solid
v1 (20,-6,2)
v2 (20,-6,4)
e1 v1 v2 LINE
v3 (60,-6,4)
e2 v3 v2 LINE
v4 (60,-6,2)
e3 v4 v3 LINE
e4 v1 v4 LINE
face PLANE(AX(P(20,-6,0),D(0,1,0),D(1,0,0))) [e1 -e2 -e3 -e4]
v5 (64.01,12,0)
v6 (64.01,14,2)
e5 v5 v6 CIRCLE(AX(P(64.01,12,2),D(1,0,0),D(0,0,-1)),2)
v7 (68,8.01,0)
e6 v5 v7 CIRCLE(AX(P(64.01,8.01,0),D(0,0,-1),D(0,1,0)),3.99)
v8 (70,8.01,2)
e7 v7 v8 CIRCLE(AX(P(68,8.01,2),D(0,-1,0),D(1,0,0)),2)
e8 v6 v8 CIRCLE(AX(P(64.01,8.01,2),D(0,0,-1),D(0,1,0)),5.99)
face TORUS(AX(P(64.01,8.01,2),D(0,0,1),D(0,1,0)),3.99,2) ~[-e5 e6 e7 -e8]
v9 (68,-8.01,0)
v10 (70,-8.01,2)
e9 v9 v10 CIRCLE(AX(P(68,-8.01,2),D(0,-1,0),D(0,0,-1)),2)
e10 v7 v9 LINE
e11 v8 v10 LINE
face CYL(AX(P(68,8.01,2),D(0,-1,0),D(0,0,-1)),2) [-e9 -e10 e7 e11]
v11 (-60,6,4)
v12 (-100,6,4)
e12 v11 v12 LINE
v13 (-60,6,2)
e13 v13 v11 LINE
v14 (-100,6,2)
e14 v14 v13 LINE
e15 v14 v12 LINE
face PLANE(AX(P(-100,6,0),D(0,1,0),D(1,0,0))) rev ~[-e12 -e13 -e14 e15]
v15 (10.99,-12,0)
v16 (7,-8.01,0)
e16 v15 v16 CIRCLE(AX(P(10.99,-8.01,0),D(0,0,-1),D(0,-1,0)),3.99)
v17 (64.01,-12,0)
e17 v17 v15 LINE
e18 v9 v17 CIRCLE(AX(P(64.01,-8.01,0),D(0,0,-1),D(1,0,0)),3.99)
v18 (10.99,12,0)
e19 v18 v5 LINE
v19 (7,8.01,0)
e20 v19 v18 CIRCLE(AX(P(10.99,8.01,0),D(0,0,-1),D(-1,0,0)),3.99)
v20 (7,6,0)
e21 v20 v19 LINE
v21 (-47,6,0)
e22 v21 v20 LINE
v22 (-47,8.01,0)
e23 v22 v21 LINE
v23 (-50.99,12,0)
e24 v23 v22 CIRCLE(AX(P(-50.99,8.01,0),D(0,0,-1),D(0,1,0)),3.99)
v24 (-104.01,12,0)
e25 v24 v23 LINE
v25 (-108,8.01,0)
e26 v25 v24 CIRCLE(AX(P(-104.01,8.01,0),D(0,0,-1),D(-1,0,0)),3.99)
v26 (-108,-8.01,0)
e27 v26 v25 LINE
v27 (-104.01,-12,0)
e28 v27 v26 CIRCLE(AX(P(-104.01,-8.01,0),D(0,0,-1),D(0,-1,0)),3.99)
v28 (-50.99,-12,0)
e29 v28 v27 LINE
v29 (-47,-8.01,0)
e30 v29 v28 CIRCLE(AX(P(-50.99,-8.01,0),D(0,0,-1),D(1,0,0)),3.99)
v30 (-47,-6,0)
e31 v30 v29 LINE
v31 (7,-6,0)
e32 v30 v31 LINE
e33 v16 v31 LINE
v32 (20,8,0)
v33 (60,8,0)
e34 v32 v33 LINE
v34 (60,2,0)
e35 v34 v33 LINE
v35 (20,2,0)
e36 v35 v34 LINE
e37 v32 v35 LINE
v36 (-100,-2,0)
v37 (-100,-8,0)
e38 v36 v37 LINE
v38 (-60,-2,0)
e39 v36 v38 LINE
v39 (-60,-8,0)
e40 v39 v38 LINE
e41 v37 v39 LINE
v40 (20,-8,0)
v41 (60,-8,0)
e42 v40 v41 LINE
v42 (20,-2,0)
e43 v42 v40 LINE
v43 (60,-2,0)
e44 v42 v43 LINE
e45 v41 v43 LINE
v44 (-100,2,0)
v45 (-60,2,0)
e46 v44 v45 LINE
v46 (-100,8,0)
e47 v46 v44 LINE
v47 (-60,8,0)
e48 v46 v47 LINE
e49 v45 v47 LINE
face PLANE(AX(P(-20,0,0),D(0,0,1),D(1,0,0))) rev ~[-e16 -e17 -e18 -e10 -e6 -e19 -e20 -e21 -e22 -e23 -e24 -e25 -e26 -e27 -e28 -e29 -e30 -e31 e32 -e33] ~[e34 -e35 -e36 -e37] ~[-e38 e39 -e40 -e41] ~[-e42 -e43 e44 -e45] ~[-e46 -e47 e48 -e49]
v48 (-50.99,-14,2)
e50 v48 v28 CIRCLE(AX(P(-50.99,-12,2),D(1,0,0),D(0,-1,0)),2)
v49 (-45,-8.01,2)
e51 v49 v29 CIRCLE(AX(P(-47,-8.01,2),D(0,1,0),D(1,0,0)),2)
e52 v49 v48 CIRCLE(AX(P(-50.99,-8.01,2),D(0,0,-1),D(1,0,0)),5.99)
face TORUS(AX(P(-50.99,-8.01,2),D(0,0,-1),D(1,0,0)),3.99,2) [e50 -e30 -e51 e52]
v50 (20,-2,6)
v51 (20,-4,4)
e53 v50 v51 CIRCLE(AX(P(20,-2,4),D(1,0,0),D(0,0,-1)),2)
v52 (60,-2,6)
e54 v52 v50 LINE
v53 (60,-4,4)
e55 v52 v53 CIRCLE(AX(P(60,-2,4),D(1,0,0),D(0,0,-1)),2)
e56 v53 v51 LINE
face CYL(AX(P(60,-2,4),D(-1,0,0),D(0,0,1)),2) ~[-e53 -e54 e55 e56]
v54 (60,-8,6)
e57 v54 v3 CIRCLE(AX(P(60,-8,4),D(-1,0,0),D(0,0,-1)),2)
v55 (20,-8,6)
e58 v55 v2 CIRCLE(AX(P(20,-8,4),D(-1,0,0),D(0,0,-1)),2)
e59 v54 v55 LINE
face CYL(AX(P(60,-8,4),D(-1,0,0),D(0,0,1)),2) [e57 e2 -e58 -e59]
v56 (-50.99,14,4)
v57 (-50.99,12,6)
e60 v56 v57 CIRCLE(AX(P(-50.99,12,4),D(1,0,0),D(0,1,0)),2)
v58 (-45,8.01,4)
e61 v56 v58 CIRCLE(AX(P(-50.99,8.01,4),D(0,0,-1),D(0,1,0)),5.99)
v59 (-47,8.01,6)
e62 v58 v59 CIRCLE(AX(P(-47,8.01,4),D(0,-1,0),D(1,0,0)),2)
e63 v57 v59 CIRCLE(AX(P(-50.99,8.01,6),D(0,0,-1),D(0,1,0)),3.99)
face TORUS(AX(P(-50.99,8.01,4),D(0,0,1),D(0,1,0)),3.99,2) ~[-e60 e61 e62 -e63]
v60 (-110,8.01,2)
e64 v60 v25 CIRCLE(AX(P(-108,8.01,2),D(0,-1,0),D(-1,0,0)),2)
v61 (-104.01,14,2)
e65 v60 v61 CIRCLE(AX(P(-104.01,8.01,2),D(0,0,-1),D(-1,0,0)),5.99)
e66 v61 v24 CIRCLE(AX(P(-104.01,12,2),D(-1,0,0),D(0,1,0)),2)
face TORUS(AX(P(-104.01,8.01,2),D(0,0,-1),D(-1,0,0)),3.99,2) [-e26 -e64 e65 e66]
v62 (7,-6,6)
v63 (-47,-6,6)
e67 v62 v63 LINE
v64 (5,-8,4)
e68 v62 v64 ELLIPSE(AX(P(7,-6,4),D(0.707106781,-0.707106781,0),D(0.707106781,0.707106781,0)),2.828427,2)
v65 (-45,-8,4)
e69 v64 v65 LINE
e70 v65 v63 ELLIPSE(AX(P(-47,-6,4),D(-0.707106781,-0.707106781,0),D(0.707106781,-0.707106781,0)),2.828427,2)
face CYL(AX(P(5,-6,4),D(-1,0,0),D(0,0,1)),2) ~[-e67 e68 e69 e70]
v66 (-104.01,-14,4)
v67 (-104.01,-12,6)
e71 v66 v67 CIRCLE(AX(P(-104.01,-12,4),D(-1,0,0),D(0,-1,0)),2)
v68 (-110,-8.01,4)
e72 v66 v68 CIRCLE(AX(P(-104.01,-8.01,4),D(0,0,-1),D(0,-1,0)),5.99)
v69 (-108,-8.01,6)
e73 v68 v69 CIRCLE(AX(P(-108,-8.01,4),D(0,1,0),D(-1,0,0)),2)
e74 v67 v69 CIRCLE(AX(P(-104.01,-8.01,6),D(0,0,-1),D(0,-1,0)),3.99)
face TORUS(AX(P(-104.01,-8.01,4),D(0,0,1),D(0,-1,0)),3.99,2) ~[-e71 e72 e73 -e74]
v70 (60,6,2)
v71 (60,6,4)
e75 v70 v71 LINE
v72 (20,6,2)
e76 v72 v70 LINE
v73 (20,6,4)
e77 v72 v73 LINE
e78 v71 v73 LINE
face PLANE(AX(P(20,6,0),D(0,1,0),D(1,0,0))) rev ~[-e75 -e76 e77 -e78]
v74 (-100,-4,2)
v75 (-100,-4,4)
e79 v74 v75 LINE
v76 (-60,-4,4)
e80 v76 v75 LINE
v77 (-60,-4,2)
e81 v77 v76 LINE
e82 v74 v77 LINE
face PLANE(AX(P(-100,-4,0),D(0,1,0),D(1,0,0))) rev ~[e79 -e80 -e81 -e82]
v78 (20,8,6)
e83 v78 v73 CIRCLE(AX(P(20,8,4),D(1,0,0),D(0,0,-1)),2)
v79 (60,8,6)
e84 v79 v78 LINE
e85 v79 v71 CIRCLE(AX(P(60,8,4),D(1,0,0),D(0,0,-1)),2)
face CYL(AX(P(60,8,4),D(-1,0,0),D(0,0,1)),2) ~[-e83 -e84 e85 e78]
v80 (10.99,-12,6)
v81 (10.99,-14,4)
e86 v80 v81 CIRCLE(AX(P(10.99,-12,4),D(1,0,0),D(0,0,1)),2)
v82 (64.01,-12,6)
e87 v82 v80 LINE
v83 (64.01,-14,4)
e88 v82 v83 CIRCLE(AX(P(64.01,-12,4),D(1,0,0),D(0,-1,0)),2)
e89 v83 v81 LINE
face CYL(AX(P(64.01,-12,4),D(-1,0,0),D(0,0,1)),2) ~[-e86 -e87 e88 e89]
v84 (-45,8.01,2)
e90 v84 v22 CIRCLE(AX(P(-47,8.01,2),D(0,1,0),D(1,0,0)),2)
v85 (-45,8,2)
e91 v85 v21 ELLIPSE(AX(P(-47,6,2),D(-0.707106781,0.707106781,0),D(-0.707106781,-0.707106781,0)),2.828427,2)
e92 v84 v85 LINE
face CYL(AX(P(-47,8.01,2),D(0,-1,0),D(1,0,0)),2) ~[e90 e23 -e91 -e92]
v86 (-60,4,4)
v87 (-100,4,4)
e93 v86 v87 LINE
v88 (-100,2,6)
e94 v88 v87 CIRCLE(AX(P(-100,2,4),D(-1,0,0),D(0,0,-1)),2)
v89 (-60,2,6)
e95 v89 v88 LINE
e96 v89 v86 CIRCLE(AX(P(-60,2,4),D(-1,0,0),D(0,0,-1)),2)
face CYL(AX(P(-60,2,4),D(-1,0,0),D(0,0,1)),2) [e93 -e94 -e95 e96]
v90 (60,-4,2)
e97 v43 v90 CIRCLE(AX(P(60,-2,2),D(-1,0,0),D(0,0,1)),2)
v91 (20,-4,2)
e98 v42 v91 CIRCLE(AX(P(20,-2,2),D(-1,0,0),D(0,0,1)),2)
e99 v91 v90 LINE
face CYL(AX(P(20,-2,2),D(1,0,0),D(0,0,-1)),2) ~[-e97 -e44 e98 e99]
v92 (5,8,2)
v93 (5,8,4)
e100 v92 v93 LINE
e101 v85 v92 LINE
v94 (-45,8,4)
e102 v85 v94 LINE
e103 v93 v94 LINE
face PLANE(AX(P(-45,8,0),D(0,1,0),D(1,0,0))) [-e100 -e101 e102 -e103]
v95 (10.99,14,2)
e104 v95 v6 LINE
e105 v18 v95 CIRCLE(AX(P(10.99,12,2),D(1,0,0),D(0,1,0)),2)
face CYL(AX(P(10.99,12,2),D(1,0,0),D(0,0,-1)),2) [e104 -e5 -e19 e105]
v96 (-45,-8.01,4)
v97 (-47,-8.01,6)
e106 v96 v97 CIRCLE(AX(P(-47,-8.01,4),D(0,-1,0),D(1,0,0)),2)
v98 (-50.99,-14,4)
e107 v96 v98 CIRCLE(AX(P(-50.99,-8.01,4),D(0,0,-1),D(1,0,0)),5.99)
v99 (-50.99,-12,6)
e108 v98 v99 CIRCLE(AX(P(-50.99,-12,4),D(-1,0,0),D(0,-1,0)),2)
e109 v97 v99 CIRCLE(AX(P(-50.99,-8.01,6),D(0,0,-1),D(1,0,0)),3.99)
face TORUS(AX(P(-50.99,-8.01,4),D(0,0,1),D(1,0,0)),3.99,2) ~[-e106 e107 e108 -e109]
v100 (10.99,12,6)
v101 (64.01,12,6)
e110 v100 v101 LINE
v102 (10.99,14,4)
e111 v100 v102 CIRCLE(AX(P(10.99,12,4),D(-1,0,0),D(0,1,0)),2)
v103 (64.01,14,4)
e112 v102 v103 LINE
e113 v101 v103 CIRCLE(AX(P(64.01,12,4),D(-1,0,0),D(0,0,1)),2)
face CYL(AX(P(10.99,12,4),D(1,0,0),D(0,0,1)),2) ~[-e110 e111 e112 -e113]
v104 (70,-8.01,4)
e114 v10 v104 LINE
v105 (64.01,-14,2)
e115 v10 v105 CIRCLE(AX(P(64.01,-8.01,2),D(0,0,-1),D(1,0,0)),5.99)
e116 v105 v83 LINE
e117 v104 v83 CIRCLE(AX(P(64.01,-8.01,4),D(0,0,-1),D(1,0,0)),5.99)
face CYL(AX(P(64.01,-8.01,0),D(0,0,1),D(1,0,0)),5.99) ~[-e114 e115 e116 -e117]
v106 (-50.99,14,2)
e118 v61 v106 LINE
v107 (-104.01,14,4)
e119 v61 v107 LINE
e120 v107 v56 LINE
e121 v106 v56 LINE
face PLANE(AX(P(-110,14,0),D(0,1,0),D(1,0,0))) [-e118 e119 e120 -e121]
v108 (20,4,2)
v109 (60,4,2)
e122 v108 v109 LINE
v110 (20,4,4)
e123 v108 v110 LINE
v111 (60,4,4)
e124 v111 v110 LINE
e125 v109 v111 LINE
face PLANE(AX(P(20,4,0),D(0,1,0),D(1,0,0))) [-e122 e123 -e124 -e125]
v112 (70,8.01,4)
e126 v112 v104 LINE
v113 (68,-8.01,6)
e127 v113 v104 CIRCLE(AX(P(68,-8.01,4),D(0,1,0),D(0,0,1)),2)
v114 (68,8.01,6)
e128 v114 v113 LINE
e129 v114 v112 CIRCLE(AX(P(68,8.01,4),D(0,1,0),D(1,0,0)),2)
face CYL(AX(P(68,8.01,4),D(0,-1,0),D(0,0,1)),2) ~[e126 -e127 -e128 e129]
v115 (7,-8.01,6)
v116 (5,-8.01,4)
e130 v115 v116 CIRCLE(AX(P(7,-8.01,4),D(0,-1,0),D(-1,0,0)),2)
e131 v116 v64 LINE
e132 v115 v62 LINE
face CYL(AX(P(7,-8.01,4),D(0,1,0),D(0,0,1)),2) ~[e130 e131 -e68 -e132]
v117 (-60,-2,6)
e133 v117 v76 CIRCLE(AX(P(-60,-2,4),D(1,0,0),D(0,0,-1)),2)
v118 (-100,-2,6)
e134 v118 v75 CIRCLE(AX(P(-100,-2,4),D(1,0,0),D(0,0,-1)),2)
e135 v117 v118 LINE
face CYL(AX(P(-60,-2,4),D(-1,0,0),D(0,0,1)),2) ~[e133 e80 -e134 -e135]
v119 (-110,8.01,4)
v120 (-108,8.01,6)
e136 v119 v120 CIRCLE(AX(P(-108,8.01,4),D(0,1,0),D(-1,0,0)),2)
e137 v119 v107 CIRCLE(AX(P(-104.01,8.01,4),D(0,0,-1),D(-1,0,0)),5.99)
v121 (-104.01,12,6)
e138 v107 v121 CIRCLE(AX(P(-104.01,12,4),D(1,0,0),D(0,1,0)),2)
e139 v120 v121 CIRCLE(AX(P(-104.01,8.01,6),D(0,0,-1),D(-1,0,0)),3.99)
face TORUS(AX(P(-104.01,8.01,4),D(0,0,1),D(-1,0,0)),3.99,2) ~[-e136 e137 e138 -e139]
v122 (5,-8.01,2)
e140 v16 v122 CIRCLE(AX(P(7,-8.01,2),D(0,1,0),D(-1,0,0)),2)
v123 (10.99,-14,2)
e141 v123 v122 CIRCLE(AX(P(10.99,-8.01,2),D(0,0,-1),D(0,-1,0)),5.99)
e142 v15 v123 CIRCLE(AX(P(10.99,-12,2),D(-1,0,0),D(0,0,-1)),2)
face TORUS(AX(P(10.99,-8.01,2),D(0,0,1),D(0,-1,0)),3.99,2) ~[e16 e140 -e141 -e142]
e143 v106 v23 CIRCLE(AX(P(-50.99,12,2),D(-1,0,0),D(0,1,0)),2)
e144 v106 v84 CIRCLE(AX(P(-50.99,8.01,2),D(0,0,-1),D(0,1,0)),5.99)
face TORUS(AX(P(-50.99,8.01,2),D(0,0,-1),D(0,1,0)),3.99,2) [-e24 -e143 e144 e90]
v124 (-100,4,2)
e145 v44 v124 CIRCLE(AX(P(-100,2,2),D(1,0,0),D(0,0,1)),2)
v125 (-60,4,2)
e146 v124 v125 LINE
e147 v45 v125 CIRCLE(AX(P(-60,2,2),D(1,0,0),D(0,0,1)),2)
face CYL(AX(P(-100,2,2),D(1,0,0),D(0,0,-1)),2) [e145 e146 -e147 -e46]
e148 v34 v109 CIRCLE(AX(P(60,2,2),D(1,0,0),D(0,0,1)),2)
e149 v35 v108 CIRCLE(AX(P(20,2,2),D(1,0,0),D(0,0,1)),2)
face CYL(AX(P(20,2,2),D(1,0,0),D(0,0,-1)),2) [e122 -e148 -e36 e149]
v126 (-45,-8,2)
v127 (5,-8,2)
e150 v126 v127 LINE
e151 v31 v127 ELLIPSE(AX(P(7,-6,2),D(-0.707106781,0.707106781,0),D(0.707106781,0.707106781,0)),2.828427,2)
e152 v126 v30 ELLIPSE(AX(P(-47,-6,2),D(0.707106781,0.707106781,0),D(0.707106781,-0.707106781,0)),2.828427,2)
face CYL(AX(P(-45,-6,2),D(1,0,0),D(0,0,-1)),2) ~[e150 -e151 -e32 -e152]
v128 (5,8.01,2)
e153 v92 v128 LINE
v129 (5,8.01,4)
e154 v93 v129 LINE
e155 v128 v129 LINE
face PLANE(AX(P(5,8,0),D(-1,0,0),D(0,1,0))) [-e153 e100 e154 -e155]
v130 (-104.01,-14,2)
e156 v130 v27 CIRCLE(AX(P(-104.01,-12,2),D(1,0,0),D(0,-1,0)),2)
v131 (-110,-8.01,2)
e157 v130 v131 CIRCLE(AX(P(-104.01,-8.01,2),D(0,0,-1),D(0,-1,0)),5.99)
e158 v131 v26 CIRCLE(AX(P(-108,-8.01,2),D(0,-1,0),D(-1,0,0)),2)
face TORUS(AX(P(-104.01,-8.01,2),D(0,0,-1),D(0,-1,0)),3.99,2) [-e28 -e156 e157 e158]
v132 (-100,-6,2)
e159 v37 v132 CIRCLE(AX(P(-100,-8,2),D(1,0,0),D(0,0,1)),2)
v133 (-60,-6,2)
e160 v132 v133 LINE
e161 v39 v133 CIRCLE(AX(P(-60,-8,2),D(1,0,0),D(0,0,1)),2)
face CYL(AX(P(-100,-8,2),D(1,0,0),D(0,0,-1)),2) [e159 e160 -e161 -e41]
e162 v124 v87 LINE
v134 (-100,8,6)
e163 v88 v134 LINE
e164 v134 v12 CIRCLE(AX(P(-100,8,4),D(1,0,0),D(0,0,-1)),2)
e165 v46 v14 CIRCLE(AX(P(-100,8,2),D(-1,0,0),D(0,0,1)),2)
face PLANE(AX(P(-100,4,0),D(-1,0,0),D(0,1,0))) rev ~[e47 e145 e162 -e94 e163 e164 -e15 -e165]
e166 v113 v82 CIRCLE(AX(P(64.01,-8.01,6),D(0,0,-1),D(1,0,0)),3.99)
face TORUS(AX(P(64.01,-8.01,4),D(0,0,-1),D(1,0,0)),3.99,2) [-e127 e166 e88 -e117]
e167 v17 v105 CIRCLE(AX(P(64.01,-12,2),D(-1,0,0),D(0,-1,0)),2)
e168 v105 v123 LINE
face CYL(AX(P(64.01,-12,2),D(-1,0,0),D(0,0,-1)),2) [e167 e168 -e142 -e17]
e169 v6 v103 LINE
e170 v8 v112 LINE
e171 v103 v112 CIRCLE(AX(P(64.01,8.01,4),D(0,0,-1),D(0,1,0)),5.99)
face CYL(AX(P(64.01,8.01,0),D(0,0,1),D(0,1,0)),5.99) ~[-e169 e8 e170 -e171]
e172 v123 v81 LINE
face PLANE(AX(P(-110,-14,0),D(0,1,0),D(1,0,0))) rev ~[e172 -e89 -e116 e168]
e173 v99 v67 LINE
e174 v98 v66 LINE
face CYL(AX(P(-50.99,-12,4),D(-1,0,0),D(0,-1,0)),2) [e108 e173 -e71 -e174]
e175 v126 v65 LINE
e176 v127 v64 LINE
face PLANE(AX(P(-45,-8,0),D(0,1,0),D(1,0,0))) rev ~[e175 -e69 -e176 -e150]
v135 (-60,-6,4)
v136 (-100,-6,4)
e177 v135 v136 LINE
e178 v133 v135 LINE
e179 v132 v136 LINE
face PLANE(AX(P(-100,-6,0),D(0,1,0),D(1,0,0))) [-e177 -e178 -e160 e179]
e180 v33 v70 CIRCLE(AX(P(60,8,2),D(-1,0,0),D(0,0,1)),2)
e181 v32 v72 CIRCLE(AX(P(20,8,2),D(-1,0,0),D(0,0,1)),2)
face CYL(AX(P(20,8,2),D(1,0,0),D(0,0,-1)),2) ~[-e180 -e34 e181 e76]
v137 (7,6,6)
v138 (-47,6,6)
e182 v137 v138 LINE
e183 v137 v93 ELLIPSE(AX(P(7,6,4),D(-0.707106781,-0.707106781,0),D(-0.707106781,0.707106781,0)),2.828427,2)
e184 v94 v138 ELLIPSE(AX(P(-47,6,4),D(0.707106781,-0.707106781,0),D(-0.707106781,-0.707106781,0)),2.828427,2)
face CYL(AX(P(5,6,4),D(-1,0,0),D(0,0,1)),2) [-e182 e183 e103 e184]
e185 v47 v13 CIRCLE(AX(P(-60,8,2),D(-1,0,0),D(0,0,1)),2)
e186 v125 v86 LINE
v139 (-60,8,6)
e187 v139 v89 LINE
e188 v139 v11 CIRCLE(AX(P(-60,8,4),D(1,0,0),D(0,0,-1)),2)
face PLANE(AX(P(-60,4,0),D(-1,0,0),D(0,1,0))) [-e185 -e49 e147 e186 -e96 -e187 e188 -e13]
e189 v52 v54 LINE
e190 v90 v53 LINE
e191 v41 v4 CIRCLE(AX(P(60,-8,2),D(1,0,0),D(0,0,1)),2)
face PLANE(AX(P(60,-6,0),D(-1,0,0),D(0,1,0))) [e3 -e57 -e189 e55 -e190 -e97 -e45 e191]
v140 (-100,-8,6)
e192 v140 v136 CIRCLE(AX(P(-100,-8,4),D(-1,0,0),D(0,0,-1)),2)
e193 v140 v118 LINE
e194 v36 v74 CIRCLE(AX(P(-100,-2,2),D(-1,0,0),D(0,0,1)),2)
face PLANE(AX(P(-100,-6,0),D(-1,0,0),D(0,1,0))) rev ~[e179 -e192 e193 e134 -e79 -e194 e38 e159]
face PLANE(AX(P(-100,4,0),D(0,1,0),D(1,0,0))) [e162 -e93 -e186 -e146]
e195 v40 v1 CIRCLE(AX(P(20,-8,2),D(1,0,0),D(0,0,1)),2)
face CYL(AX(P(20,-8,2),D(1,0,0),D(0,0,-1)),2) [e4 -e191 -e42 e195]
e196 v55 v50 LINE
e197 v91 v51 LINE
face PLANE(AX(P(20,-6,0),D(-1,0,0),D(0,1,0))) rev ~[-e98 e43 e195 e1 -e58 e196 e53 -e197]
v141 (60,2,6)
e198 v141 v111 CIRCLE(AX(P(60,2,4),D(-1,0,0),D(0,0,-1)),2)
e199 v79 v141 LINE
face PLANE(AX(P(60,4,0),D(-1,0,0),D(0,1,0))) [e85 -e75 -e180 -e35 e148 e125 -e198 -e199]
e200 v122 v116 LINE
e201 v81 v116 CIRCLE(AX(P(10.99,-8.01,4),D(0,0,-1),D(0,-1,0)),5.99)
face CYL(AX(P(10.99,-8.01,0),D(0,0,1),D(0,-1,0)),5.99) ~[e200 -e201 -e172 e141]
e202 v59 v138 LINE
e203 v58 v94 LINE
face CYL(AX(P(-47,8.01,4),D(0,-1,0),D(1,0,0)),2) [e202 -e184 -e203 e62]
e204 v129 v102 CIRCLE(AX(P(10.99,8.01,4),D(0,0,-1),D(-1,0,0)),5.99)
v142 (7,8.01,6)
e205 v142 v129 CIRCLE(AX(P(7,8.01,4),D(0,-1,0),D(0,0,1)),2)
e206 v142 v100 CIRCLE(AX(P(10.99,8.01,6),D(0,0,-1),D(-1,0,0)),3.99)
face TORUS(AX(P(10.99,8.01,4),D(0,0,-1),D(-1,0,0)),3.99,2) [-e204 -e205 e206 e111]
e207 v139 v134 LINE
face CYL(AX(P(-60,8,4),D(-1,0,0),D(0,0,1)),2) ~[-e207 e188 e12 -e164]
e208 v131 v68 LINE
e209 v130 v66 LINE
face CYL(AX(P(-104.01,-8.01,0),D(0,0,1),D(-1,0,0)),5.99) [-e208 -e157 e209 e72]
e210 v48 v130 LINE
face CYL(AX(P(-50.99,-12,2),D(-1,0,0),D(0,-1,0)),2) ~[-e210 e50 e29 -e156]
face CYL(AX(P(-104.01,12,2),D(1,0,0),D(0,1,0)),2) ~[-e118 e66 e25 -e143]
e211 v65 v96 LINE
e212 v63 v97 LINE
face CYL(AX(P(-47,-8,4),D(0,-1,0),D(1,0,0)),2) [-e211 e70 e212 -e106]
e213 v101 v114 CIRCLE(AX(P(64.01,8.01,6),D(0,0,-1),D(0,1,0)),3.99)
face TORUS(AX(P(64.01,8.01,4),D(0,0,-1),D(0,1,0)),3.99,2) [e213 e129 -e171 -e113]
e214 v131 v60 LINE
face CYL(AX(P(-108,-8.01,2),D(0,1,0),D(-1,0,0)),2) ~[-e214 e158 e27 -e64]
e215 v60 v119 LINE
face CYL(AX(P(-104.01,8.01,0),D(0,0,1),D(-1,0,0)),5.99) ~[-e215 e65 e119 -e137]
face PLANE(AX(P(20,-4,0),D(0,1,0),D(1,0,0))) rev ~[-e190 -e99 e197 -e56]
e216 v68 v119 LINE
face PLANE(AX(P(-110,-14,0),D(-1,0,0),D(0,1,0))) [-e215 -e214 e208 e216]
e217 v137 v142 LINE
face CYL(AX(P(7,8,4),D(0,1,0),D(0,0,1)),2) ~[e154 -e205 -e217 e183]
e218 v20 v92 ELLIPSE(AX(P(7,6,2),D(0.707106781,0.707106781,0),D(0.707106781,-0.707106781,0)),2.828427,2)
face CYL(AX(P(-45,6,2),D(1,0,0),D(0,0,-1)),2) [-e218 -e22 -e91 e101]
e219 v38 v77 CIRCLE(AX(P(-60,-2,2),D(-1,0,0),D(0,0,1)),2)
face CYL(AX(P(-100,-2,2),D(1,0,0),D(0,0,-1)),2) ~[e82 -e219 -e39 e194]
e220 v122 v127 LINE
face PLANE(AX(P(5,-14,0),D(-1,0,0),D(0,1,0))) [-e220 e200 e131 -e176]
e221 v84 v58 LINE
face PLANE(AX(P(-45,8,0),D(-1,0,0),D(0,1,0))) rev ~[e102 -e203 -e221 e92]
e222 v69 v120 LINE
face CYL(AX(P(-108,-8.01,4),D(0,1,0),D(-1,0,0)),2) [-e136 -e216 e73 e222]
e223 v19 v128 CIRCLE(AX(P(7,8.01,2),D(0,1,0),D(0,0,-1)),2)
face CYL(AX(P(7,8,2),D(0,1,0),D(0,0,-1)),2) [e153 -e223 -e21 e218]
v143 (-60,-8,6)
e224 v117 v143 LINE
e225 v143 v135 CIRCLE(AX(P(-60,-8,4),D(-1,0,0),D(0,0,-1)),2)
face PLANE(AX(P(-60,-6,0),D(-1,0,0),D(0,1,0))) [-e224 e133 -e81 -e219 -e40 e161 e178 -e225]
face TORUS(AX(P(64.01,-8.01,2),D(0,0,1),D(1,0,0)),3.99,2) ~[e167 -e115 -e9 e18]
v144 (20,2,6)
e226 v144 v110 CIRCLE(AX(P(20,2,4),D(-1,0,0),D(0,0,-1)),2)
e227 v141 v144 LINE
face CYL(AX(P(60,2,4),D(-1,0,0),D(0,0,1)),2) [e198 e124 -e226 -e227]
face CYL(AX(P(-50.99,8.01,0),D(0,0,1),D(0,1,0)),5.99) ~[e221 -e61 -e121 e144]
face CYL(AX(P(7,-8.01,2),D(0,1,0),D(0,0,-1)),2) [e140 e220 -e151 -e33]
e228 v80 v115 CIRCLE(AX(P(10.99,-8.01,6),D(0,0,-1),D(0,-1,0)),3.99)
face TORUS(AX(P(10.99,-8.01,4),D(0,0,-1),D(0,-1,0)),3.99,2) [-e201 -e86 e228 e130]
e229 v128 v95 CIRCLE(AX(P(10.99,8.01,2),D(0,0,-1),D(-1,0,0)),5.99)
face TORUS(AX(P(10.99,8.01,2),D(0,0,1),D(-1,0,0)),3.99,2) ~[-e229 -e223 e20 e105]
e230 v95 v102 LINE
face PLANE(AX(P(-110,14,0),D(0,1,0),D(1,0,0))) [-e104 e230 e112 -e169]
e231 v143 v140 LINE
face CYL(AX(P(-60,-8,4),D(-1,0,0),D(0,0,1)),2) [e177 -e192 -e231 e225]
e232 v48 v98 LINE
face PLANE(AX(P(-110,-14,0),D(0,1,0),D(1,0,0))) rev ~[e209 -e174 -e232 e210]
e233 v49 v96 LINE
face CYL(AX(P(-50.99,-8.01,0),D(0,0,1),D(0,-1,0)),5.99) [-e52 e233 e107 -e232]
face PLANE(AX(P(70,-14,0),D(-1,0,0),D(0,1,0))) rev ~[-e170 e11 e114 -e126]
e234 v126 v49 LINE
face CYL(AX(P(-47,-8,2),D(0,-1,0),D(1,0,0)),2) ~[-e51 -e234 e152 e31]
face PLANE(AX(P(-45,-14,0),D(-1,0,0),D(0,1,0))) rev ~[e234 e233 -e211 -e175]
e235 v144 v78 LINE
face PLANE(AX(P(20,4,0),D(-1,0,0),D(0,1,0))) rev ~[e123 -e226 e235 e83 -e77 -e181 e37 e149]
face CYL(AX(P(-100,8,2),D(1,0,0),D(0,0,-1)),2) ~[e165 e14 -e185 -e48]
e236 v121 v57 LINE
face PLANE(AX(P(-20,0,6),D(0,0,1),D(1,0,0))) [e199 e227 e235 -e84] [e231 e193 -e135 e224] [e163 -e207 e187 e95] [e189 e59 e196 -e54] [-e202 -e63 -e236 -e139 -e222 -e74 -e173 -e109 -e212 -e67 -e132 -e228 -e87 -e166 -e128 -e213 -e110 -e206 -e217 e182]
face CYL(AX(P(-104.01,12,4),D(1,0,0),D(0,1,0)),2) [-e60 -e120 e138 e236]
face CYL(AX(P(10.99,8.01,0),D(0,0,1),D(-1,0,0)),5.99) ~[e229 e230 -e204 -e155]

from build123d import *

# Parameters (mm, degrees)
BOX003_W     = 40
BOX003_H     = 2
BOX003_DEPTH = 10
BOX004_W     = 40
BOX004_H     = 2
BOX004_DEPTH = 10
BOX002_W     = 40
BOX002_H     = 2
BOX002_DEPTH = 10
BOX005_W     = 50
BOX005_H     = 6
BOX005_DEPTH = 10
BOX006_W     = 50
BOX006_H     = 6
BOX006_DEPTH = 10
BOX001_W     = 40
BOX001_H     = 2
BOX001_DEPTH = 10
BOX_W        = 180
BOX_H        = 28
BOX_DEPTH    = 6
FILLET_R     = 5.99
FILLET001_R  = 2


with BuildPart() as cube003:
    # Box003 → Box003 (new body)
    with BuildSketch(Plane(origin=(20, -6, 0), x_dir=(1, 0, 0), z_dir=(0, 0, 1))):
        with Locations((20, 1)):
            Rectangle(BOX003_W, BOX003_H)
    extrude(amount=BOX003_DEPTH)


with BuildPart() as cube004:
    # Box004 → Box004 (new body)
    with BuildSketch(Plane(origin=(20, 4, 0), x_dir=(1, 0, 0), z_dir=(0, 0, 1))):
        with Locations((20, 1)):
            Rectangle(BOX004_W, BOX004_H)
    extrude(amount=BOX004_DEPTH)


with BuildPart() as cube002:
    # Box002 → Box002 (new body)
    with BuildSketch(Plane(origin=(-100, 4, 0), x_dir=(1, 0, 0), z_dir=(0, 0, 1))):
        with Locations((20, 1)):
            Rectangle(BOX002_W, BOX002_H)
    extrude(amount=BOX002_DEPTH)


with BuildPart() as cube005:
    # Box005 → Box005 (new body)
    with BuildSketch(Plane(origin=(-45, -14, 0), x_dir=(1, 0, 0), z_dir=(0, 0, 1))):
        with Locations((25, 3)):
            Rectangle(BOX005_W, BOX005_H)
    extrude(amount=BOX005_DEPTH)


with BuildPart() as cube006:
    # Box006 → Box006 (new body)
    with BuildSketch(Plane(origin=(-45, 8, 0), x_dir=(1, 0, 0), z_dir=(0, 0, 1))):
        with Locations((25, 3)):
            Rectangle(BOX006_W, BOX006_H)
    extrude(amount=BOX006_DEPTH)


with BuildPart() as holes:
    # Box001 → Box001 (new body)
    with BuildSketch(Plane(origin=(-100, -6, 0), x_dir=(1, 0, 0), z_dir=(0, 0, 1))):
        with Locations((20, 1)):
            Rectangle(BOX001_W, BOX001_H)
    extrude(amount=BOX001_DEPTH)

    # Fusion: union Cube003, Cube004, Cube002, Cube005, Cube006
    add(cube003.part)
    add(cube004.part)
    add(cube002.part)
    add(cube005.part)
    add(cube006.part)


with BuildPart() as fillet001:
    # Box → Box (new body)
    with BuildSketch(Plane(origin=(-110, -14, 0), x_dir=(1, 0, 0), z_dir=(0, 0, 1))):
        with Locations((90, 14)):
            Rectangle(BOX_W, BOX_H)
    extrude(amount=BOX_DEPTH)

    # Cut: cut Holes
    add(holes.part, mode=Mode.SUBTRACT)

    # Fillet
    fillet_edges = [fillet001.edges().sort_by_distance(p)[0] for p in [
        (-110, -14, 3),
        (-110, 14, 3),
        (-45, -14, 3),
        (-45, 14, 3),
        (5, 14, 3),
        (70, 14, 3),
        (70, -14, 3),
        (5, -14, 3),
    ]]
    fillet(fillet_edges, radius=FILLET_R)

    # Fillet001
    fillet001_edges = [fillet001.edges().sort_by_distance(p)[0] for p in [
        (-110, 0, 6),
        (-110, 0, 0),
        (-77.5, 14, 6),
        (-108.24557, 12.24557, 6),
        (-46.75443, 12.24557, 6),
        (-108.24557, -12.24557, 6),
        (-20, 8, 6),
        (-77.5, -14, 6),
        (-46.75443, -12.24557, 6),
        (6.75443, 12.24557, 6),
        (37.5, 14, 6),
        (-20, -8, 6),
        (68.24557, 12.24557, 6),
        (70, 0, 6),
        (6.75443, -12.24557, 6),
        (68.24557, -12.24557, 6),
        (37.5, -14, 6),
        (-80, -6, 6),
        (-80, -4, 6),
        (-80, 4, 6),
        (-80, 6, 6),
        (40, 4, 6),
        (40, 6, 6),
        (40, -6, 6),
        (40, -4, 6),
        (-108.24557, -12.24557, 0),
        (-108.24557, 12.24557, 0),
        (-77.5, 14, 0),
        (-46.75443, 12.24557, 0),
        (-20, 8, 0),
        (-77.5, -14, 0),
        (-46.75443, -12.24557, 0),
        (6.75443, 12.24557, 0),
        (37.5, 14, 0),
        (-20, -8, 0),
        (68.24557, 12.24557, 0),
        (70, 0, 0),
        (6.75443, -12.24557, 0),
        (68.24557, -12.24557, 0),
        (37.5, -14, 0),
        (-80, -6, 0),
        (-80, -4, 0),
        (-80, 4, 0),
        (-80, 6, 0),
        (40, 4, 0),
        (40, 6, 0),
        (40, -6, 0),
        (40, -4, 0),
    ]]
    fillet(fillet001_edges, radius=FILLET001_R)


solid = fillet001.part
